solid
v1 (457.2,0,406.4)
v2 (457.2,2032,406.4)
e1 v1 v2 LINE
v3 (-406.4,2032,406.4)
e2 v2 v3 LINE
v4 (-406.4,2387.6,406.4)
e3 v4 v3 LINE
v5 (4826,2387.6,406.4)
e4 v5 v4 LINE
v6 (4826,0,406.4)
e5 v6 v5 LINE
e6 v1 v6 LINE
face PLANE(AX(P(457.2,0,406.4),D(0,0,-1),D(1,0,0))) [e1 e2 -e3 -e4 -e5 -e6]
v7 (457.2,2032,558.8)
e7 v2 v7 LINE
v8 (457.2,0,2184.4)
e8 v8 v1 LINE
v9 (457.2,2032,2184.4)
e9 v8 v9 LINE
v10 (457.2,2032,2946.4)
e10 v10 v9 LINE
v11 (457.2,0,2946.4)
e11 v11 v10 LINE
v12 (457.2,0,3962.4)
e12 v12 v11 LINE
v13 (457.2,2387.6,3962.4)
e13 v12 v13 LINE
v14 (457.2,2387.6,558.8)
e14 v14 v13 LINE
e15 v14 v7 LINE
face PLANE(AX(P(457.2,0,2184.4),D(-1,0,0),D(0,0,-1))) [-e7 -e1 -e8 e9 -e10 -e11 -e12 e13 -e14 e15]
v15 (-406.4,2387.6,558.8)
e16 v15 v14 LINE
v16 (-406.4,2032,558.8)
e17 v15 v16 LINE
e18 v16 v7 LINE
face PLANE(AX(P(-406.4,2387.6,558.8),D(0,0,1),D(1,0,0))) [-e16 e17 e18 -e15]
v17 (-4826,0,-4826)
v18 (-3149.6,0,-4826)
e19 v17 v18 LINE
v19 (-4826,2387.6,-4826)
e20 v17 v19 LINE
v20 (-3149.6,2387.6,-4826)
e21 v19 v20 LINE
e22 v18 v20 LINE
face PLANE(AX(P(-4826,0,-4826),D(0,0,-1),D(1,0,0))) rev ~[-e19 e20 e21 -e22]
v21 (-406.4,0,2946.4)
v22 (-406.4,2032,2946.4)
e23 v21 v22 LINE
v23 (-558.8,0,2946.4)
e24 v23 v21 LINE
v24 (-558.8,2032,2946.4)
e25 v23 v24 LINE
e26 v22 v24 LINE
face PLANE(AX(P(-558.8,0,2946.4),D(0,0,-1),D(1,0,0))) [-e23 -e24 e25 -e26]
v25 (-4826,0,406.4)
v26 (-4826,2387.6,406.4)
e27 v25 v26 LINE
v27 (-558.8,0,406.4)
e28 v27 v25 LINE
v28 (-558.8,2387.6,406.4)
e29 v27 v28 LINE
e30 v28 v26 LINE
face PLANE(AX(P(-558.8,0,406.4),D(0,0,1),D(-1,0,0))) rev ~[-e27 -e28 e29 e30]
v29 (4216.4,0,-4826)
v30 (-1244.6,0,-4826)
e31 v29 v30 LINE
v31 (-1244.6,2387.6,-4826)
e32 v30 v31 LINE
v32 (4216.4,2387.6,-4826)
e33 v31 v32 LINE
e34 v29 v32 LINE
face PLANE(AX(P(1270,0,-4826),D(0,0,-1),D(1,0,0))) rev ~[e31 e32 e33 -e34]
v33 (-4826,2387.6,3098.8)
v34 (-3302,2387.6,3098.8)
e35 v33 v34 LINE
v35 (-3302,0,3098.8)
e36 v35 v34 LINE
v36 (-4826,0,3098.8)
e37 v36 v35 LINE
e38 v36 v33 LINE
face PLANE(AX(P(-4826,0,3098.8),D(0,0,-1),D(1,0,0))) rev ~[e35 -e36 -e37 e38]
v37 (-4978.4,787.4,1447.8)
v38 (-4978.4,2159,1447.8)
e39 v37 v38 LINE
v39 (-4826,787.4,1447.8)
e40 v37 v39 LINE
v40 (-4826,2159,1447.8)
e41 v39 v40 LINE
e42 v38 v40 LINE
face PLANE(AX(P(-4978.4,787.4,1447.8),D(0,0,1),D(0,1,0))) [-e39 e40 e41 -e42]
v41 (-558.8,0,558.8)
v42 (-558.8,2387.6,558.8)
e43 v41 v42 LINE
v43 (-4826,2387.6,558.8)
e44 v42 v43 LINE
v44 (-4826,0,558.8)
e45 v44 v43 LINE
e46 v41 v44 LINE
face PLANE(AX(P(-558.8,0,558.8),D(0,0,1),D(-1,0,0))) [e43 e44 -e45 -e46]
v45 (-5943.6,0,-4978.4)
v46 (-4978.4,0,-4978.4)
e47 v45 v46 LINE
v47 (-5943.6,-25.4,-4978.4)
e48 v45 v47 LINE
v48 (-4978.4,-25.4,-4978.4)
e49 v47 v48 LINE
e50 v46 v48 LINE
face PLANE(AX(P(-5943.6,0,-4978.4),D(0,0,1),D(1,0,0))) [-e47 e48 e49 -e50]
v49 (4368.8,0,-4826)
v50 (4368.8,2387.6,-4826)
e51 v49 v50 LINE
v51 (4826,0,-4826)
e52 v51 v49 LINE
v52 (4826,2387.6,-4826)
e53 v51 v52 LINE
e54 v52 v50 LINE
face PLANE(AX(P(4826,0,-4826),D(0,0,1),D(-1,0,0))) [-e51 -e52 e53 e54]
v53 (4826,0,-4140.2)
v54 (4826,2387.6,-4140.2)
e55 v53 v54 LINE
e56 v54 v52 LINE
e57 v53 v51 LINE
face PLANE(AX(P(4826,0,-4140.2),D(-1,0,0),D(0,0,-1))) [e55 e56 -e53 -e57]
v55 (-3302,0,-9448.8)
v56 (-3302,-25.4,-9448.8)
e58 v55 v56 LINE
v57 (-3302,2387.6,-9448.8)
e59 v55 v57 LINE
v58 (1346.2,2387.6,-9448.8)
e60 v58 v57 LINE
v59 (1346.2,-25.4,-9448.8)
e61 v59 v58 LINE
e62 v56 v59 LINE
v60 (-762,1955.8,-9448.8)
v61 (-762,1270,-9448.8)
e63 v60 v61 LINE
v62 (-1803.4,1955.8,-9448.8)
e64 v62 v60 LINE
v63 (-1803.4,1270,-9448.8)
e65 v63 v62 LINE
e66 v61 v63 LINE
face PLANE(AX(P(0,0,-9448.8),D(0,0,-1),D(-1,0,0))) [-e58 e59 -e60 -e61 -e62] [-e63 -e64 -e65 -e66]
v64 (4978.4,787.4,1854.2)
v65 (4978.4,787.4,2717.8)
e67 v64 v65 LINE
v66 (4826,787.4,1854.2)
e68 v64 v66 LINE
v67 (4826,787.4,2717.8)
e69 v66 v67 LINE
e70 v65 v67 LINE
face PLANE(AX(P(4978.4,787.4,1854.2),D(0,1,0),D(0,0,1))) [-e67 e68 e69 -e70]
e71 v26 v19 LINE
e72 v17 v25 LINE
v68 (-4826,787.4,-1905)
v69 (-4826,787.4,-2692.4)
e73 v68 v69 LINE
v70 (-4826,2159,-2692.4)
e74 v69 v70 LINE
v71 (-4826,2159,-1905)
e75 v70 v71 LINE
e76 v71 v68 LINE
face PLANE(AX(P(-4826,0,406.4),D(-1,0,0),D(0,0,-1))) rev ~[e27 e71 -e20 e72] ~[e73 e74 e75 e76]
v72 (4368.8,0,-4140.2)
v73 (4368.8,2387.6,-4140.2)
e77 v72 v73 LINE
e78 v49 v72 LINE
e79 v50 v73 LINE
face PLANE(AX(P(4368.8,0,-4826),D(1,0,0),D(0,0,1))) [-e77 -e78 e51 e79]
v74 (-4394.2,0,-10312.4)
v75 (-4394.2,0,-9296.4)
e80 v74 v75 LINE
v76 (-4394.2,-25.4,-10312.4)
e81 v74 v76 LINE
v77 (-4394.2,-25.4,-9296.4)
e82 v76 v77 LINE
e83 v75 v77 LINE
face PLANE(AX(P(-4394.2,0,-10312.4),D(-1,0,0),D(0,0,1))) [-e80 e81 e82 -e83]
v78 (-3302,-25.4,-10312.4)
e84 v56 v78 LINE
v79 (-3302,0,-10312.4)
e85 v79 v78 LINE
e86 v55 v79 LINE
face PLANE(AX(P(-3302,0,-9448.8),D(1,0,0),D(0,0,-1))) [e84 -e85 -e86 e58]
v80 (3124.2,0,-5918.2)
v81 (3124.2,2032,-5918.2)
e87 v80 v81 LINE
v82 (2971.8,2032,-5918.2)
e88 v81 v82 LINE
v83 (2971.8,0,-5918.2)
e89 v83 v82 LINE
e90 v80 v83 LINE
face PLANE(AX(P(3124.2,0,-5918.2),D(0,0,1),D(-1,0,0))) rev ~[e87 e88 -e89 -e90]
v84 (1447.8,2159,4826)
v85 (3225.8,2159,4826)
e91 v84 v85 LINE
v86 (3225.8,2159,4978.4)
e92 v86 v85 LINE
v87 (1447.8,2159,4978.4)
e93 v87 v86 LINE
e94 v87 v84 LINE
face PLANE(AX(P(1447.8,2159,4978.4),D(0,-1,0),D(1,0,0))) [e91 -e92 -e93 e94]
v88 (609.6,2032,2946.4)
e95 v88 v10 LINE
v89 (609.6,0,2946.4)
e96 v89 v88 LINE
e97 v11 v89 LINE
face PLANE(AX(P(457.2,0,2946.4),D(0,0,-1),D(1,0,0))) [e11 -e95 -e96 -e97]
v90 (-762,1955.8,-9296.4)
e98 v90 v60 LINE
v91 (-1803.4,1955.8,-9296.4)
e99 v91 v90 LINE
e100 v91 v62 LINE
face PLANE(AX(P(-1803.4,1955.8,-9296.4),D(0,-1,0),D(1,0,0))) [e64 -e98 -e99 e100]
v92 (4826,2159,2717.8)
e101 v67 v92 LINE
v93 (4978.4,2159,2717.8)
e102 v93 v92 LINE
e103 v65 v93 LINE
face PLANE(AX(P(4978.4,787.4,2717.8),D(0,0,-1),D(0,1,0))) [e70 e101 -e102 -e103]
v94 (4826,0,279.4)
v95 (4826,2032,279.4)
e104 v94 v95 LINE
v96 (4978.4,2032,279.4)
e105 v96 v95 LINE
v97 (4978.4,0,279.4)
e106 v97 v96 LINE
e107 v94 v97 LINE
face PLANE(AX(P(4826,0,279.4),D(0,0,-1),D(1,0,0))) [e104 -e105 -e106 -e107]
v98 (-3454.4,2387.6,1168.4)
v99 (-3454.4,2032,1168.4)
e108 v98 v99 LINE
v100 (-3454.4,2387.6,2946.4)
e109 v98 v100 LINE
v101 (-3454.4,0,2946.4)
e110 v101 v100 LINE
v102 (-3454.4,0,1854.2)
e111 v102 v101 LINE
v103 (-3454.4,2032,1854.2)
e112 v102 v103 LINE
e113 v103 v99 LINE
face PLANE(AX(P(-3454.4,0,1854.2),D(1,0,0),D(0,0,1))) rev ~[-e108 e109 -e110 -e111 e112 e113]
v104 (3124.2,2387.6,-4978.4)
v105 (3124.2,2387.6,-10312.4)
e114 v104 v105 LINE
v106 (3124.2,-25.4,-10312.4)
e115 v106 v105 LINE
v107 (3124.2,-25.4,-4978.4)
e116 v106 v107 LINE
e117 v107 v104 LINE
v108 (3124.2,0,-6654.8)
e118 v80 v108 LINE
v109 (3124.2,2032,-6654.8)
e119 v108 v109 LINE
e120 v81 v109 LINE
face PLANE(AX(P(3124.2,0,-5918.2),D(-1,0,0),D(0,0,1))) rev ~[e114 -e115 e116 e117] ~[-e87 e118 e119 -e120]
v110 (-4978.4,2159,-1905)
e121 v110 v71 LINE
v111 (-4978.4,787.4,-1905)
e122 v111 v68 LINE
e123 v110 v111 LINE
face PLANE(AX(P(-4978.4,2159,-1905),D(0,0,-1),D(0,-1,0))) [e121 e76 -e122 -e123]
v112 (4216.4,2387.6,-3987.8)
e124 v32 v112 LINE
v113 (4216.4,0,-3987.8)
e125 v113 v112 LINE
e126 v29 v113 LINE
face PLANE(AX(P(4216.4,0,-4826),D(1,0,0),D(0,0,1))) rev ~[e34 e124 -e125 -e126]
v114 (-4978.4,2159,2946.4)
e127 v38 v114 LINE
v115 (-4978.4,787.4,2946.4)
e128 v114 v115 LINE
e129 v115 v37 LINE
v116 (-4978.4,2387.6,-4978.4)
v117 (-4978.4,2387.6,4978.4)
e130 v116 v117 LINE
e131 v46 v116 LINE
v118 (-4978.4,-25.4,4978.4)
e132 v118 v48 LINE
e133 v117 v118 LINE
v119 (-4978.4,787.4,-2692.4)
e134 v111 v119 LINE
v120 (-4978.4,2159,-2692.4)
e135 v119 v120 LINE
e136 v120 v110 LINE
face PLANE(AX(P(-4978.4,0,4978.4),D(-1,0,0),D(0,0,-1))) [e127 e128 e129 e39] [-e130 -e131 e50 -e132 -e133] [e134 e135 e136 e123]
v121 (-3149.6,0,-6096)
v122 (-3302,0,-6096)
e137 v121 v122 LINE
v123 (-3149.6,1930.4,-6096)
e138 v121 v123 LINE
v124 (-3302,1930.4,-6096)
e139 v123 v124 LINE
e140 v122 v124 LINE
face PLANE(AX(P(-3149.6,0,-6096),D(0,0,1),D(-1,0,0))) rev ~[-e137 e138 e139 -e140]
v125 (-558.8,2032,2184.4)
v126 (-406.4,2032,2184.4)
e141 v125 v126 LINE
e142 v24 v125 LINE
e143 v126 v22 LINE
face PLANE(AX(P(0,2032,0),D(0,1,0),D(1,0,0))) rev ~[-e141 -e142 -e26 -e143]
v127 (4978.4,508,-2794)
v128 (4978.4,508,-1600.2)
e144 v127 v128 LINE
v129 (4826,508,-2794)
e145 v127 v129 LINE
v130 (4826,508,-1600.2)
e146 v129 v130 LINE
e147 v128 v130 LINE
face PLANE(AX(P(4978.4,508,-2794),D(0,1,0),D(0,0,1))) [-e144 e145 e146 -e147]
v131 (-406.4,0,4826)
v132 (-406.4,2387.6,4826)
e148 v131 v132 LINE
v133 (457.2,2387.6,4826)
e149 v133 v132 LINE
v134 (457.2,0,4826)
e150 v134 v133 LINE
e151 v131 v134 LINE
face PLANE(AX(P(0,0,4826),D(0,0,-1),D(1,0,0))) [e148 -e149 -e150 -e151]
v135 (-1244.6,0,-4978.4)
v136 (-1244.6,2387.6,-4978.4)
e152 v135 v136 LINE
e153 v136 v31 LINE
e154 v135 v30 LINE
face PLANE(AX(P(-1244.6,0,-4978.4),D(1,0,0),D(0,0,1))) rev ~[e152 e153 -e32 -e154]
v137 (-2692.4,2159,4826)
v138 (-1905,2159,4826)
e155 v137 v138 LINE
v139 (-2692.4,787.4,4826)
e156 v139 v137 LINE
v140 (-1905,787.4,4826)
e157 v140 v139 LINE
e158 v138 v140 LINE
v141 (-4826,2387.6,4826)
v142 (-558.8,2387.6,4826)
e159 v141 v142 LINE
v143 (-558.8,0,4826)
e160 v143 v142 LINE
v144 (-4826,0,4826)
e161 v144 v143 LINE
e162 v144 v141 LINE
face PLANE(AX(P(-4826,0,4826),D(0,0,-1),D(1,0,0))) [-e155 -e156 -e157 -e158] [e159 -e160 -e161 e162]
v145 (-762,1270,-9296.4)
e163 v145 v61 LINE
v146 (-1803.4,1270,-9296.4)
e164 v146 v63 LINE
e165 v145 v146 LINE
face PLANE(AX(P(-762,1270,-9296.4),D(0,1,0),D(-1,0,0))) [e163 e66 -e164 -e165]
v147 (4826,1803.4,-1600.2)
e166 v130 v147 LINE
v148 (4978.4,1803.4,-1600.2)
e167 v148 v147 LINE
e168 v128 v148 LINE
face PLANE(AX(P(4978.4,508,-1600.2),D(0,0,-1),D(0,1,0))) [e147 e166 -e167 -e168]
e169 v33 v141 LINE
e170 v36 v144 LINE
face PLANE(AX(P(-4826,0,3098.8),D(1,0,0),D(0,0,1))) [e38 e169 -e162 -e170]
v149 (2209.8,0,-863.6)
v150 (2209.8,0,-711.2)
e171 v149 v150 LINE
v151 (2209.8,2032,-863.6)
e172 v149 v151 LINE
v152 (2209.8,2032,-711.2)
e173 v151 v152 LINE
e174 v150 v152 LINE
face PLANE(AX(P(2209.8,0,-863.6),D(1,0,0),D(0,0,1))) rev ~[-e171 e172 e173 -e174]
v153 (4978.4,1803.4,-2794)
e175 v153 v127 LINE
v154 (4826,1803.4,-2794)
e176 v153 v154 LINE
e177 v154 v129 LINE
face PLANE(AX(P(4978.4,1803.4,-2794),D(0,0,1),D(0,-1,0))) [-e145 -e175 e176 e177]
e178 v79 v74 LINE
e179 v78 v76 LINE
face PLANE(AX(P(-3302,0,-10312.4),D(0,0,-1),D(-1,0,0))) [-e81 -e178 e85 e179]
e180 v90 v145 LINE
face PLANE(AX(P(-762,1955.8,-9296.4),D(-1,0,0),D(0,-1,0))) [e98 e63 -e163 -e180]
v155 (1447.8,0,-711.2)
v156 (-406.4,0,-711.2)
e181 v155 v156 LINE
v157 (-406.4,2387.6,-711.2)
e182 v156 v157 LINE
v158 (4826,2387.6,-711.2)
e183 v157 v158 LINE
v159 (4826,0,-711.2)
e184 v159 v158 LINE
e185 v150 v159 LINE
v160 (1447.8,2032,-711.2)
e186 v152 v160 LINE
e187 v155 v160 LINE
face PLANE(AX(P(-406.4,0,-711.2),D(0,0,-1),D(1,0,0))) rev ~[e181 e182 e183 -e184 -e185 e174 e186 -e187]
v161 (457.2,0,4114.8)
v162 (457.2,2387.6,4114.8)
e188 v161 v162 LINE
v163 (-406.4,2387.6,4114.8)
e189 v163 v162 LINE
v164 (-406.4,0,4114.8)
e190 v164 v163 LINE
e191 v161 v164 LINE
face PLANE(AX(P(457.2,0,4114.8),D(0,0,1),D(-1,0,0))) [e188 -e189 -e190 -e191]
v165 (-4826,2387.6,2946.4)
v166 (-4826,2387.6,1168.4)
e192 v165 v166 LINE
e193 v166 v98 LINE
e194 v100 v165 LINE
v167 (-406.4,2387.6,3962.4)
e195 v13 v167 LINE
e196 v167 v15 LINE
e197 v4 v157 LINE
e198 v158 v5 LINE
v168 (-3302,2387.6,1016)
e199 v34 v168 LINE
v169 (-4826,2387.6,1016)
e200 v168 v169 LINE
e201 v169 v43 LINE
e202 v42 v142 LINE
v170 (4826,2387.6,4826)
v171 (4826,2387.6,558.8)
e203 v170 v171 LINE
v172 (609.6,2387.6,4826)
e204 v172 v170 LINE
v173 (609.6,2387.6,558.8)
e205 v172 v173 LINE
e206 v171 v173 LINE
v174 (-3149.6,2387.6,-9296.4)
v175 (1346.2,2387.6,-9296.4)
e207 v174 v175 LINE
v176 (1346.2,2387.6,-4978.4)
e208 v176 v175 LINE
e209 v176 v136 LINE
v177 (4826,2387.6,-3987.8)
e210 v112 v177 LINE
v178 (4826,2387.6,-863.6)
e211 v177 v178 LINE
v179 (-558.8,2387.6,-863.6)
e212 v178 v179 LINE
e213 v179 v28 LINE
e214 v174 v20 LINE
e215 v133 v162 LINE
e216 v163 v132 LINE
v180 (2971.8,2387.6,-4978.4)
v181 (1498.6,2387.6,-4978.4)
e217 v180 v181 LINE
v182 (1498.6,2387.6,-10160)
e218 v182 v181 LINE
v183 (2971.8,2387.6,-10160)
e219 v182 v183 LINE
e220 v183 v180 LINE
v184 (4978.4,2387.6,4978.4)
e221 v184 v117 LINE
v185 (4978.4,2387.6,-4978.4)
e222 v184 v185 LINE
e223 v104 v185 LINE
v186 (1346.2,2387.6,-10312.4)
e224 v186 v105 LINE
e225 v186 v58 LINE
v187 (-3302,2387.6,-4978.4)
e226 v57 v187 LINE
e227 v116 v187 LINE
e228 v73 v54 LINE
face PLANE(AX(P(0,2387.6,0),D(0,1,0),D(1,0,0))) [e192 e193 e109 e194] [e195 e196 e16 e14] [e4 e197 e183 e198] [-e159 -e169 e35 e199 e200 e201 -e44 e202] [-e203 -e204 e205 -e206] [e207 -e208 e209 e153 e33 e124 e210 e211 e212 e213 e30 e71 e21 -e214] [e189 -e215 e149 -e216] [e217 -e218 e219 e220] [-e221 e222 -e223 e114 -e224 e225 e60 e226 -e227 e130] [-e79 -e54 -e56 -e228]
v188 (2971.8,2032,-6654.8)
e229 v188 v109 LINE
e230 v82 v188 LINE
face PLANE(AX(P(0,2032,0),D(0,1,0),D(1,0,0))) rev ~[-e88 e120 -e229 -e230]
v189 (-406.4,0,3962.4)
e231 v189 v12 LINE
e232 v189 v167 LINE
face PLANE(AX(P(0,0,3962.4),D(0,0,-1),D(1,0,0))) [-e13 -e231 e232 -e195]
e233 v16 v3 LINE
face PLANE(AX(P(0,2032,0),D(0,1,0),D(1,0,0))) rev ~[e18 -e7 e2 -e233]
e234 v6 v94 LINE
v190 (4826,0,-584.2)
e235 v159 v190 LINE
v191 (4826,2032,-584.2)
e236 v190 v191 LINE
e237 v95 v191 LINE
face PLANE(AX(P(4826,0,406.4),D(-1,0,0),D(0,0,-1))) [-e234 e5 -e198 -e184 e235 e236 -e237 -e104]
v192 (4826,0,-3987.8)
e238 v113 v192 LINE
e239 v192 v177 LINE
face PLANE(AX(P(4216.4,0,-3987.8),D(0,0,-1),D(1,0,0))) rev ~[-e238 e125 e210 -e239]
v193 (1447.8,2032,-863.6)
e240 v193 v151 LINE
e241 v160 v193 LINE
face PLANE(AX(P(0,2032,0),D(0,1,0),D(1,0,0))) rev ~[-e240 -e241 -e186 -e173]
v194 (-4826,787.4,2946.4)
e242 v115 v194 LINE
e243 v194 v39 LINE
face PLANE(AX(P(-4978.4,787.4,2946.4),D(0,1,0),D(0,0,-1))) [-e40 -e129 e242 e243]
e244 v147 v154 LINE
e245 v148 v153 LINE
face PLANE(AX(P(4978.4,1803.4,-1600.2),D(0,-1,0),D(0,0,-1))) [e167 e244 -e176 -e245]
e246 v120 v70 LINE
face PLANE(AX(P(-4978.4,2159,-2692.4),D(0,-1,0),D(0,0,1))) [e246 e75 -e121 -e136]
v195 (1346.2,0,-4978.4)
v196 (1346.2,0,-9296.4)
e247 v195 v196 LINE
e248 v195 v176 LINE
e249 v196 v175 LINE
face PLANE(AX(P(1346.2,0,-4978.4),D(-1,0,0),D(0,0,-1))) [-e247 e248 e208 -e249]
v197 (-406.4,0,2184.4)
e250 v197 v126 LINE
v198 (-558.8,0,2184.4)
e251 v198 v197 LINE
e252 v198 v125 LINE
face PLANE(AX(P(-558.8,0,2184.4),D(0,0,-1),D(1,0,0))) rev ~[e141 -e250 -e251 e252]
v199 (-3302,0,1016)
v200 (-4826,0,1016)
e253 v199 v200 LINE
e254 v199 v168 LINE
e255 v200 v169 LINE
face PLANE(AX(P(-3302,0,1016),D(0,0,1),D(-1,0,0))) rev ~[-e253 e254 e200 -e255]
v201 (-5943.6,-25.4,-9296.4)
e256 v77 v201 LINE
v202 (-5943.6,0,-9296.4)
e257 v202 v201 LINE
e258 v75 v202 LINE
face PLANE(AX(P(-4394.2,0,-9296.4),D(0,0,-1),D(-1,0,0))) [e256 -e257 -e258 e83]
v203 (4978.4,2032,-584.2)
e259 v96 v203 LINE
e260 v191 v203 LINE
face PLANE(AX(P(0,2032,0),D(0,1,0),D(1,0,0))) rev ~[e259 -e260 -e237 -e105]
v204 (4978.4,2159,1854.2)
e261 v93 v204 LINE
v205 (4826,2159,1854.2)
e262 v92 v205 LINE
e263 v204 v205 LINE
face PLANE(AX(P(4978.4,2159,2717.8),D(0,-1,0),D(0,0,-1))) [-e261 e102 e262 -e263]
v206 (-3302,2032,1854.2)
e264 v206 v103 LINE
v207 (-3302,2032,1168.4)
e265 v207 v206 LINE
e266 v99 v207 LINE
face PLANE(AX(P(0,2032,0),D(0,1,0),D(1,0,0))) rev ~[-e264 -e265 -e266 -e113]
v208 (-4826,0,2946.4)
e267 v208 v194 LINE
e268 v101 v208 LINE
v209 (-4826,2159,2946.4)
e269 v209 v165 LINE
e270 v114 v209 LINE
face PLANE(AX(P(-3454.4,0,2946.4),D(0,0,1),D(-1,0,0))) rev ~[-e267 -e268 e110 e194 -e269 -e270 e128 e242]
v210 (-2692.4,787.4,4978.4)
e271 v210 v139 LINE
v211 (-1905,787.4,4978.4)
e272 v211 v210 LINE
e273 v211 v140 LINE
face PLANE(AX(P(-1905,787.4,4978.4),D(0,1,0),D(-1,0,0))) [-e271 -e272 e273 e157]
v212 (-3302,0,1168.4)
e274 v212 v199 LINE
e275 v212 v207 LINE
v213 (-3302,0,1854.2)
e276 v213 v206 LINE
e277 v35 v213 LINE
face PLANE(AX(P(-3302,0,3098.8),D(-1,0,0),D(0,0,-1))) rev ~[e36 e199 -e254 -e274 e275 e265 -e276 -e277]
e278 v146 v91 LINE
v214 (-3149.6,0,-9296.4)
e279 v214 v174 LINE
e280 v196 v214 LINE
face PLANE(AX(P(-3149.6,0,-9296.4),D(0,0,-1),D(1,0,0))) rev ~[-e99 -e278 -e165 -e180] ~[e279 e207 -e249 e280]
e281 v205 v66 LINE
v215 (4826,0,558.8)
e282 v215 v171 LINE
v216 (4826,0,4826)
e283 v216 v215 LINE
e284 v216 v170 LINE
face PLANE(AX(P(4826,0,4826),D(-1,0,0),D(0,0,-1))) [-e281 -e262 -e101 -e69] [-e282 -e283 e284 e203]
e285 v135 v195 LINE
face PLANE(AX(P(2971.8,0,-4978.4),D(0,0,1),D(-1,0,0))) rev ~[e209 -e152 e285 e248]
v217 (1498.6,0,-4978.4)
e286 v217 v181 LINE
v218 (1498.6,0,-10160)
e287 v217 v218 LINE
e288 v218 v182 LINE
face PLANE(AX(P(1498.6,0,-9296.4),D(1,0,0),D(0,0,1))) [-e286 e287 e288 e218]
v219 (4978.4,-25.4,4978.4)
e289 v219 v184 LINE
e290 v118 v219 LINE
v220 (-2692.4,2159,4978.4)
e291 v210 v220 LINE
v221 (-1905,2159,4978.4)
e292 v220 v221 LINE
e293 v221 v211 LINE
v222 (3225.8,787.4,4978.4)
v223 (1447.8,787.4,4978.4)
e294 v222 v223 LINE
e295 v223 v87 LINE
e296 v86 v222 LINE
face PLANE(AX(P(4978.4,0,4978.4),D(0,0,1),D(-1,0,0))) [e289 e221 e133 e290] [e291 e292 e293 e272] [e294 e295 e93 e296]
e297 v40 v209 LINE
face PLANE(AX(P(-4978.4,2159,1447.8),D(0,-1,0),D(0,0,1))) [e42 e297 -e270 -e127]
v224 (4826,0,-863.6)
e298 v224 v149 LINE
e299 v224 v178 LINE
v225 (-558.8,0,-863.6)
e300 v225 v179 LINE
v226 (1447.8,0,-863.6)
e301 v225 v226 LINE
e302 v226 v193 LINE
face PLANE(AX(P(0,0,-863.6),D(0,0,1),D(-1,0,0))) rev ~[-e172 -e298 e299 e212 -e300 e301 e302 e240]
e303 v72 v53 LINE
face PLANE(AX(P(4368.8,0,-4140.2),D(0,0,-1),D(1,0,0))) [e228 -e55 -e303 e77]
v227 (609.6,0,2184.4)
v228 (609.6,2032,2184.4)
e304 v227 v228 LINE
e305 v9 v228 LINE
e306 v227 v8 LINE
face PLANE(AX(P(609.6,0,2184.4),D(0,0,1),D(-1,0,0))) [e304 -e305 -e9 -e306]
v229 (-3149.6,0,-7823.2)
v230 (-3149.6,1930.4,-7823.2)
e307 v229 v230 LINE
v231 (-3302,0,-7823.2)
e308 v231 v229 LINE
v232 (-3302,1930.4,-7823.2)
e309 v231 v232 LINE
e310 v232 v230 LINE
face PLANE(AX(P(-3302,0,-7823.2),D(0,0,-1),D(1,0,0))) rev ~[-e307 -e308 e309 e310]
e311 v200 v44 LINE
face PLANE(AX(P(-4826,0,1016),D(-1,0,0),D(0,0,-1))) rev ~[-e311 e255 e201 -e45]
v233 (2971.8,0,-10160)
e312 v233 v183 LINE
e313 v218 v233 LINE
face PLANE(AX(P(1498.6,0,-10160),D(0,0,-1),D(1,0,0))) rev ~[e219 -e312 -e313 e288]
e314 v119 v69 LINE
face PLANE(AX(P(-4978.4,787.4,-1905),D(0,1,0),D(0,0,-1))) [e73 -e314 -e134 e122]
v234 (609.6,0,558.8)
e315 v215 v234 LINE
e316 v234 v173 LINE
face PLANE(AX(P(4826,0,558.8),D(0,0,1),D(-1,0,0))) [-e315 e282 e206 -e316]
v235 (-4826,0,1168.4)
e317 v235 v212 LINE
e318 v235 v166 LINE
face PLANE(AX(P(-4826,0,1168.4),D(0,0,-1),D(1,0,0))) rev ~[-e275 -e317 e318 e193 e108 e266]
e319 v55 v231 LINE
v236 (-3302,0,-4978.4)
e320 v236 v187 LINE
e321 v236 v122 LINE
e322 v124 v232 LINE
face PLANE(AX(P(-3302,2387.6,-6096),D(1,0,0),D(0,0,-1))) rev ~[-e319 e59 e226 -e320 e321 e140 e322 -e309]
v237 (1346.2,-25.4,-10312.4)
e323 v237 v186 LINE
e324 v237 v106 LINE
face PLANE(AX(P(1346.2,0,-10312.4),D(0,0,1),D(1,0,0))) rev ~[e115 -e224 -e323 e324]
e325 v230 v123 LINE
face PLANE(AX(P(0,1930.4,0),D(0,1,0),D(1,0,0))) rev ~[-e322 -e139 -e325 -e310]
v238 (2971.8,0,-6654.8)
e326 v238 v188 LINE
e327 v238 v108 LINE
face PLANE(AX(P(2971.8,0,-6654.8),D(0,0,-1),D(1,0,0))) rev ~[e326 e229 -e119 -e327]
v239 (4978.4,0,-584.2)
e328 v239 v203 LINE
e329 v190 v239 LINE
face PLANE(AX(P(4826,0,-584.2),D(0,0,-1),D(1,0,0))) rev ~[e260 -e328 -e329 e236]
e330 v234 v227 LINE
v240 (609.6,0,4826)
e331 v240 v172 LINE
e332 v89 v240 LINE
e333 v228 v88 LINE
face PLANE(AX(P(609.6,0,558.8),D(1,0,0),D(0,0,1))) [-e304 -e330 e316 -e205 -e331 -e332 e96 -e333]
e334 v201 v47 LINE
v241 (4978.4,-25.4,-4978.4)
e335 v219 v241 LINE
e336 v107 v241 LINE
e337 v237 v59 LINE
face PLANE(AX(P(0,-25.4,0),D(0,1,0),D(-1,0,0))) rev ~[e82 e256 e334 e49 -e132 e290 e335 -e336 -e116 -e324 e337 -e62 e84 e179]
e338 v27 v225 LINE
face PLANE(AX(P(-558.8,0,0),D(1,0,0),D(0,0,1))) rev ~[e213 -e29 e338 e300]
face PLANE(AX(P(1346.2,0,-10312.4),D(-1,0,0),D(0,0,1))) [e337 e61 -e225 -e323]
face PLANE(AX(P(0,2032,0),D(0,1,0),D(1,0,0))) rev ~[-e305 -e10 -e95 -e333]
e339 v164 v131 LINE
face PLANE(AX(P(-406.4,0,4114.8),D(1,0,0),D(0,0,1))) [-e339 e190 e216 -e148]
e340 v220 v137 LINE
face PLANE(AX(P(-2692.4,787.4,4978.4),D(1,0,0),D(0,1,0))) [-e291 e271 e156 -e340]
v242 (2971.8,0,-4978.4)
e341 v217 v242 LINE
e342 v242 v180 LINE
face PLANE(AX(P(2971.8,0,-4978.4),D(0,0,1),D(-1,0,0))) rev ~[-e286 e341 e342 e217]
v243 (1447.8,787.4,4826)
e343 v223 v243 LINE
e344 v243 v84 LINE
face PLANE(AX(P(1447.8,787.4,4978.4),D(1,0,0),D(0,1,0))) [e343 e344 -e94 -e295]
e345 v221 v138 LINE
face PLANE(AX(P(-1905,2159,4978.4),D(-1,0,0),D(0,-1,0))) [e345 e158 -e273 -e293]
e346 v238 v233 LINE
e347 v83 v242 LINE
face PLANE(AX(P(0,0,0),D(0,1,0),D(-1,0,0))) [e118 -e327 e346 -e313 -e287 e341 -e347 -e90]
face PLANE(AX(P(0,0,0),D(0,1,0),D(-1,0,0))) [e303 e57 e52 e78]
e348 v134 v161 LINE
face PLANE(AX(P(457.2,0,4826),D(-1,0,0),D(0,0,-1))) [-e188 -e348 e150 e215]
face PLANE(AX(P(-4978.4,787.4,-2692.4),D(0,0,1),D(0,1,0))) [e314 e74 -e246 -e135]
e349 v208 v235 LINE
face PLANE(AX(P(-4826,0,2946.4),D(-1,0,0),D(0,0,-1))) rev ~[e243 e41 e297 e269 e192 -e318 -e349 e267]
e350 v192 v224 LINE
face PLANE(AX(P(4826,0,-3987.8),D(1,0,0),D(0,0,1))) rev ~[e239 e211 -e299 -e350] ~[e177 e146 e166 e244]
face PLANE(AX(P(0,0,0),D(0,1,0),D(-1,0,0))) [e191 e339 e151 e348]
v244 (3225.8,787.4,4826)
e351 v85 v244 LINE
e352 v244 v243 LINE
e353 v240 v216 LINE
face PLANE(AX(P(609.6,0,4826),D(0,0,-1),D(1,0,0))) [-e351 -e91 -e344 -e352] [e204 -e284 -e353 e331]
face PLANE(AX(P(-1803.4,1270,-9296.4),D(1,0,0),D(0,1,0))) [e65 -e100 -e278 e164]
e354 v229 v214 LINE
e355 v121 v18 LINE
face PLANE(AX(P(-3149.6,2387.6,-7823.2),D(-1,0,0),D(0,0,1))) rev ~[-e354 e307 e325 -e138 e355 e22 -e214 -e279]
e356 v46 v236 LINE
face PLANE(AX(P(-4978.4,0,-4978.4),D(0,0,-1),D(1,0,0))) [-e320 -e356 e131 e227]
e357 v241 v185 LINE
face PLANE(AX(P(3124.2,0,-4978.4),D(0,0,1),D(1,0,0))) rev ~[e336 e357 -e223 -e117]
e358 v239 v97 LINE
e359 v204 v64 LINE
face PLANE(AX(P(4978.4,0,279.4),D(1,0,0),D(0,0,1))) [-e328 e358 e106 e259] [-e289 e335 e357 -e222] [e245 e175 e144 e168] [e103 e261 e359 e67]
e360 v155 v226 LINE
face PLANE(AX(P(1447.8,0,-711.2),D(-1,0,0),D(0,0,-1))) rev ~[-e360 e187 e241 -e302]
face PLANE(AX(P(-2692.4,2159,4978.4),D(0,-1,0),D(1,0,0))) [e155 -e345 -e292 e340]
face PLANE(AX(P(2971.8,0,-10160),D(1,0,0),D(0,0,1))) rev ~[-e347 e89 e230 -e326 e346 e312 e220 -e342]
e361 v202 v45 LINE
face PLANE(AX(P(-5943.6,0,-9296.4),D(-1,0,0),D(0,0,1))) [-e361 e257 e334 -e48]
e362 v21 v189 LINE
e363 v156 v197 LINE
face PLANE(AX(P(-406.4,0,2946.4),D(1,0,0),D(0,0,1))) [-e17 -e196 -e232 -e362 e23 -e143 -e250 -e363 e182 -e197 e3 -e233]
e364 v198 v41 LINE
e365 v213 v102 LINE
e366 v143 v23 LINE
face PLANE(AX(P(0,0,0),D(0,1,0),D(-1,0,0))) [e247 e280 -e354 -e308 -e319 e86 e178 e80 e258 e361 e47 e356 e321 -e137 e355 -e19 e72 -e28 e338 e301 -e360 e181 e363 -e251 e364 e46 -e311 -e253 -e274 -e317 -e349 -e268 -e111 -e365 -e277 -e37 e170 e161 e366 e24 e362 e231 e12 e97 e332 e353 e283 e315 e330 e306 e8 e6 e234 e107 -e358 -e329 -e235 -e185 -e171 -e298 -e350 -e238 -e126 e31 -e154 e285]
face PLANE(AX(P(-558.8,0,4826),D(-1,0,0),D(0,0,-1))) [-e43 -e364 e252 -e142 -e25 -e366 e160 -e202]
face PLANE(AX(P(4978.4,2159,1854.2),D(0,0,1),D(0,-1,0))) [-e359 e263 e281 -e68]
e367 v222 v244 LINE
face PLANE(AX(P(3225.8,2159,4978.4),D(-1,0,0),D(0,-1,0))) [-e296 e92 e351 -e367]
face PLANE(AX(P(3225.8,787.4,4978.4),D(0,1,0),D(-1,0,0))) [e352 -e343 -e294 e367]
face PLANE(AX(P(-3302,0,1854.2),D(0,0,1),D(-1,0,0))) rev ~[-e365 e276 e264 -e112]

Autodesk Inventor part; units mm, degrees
ref_plane "YZ Plane" through (0, 0, 0) normal (1, 0, 0) x (0, 1, 0)
ref_plane "XZ Plane" through (0, 0, 0) normal (0, 1, 0) x (-1, 0, 0)
ref_plane "XY Plane" through (0, 0, 0) normal (0, 0, 1) x (1, 0, 0)
sketch "Sketch1" plane through (0, 0, 0) normal (0, 1, 0) x (-1, 0, 0)
  line L0 (-4978.4, 4978.4) -> (4978.4, 4978.4)
  line L1 (4978.4, 4978.4) -> (4978.4, -4978.4)
  line L2 (0, -13370.56) -> (0, 8036.56) projected
  line L3 (8128, 0) -> (-7162.8, 0) projected
  line L4 (-1346.2, -10312.4) -> (-3124.2, -10312.4)
  line L5 (-1346.2, -10312.4) -> (-1346.2, -9448.8)
  line L6 (-1346.2, -9448.8) -> (3302, -9448.8)
  line L7 (3302, -9448.8) -> (3302, -10312.4)
  line L8 (3302, -10312.4) -> (4394.2, -10312.4)
  line L9 (4394.2, -10312.4) -> (4394.2, -9296.4)
  line L10 (4394.2, -9296.4) -> (5943.6, -9296.4)
  line L11 (5943.6, -9296.4) -> (5943.6, -4978.4)
  line L12 (5943.6, -4978.4) -> (3302, -4978.4)
  line L13 (3302, -4978.4) -> (3302, -9448.8)
  line L14 (4978.4, -4978.4) -> (3302, -4978.4)
  line L15 (-3124.2, -4978.4) -> (-4978.4, -4978.4)
  line L16 (4826, 3098.8) -> (4826, 4826)
  line L17 (4826, 4826) -> (558.8, 4826)
  line L18 (558.8, 4826) -> (558.8, 2946.4)
  line L19 (558.8, 2946.4) -> (406.4, 2946.4)
  line L20 (406.4, 4826) -> (-457.2, 4826)
  line L21 (-457.2, 2946.4) -> (-609.6, 2946.4)
  line L22 (-609.6, 2946.4) -> (-609.6, 4826)
  line L23 (-609.6, 4826) -> (-4826, 4826)
  line L24 (-4826, 4826) -> (-4826, 558.8)
  line L25 (-4826, 558.8) -> (-609.6, 558.8)
  line L26 (-609.6, 558.8) -> (-609.6, 2184.4)
  line L27 (-609.6, 2184.4) -> (-457.2, 2184.4)
  line L28 (-457.2, 2184.4) -> (-457.2, 406.4)
  line L29 (-457.2, 406.4) -> (-4826, 406.4)
  line L30 (-4826, 406.4) -> (-4826, 279.4)
  line L31 (-4826, 279.4) -> (-4978.4, 279.4)
  line L32 (4826, 3098.8) -> (3302, 3098.8)
  line L33 (3302, 3098.8) -> (3302, 1854.2)
  line L34 (3302, 1854.2) -> (3454.4, 1854.2)
  line L35 (3454.4, 1854.2) -> (3454.4, 2946.4)
  line L36 (3454.4, 2946.4) -> (4826, 2946.4)
  line L37 (4826, 2946.4) -> (4826, 1168.4)
  line L38 (4826, -4826) -> (3149.6, -4826)
  line L39 (3149.6, -4826) -> (3149.6, -6096)
  line L40 (3149.6, -6096) -> (3302, -6096)
  line L41 (3302, -7823.2) -> (3149.6, -7823.2)
  line L42 (3149.6, -7823.2) -> (3149.6, -9296.4)
  line L43 (3149.6, -9296.4) -> (-1498.6, -9296.4)
  line L44 (-1498.6, -9296.4) -> (-1498.6, -10160)
  line L45 (-1498.6, -10160) -> (-2971.8, -10160)
  line L46 (-2971.8, -10160) -> (-2971.8, -6654.8)
  line L47 (-2971.8, -6654.8) -> (-3124.2, -6654.8)
  line L48 (-3124.2, -5918.2) -> (-2971.8, -5918.2)
  line L49 (-2971.8, -5918.2) -> (-2971.8, -4978.4)
  line L50 (-2971.8, -4978.4) -> (1244.6, -4978.4)
  line L51 (1244.6, -4978.4) -> (1244.6, -4826)
  line L52 (1244.6, -4826) -> (-1117.6, -4826)
  line L53 (-1117.6, -863.6) -> (558.8, -863.6)
  line L54 (558.8, -863.6) -> (558.8, 406.4)
  line L55 (558.8, 406.4) -> (4826, 406.4)
  line L56 (558.8, 2184.4) -> (558.8, 558.8)
  line L57 (558.8, 558.8) -> (4826, 558.8)
  line L58 (558.8, 2184.4) -> (406.4, 2184.4)
  line L59 (406.4, 2184.4) -> (406.4, -711.2)
  line L60 (406.4, -711.2) -> (-1447.8, -711.2)
  line L61 (-1447.8, -711.2) -> (-1447.8, -863.6)
  line L62 (-1447.8, -863.6) -> (-1270, -863.6)
  line L63 (-1270, -4826) -> (-4216.4, -4826)
  line L64 (-4216.4, -4826) -> (-4216.4, -3987.8)
  line L65 (-4216.4, -3987.8) -> (-4826, -3987.8)
  line L66 (-4826, -3987.8) -> (-4826, -863.6)
  line L67 (-4826, -863.6) -> (-2209.8, -863.6)
  line L68 (-2209.8, -863.6) -> (-2209.8, -711.2)
  line L69 (-2209.8, -711.2) -> (-4826, -711.2)
  line L70 (-4826, -711.2) -> (-4826, -584.2)
  line L71 (-4826, -584.2) -> (-4978.4, -584.2)
  line L72 (-4368.8, -4826) -> (-4368.8, -4140.2)
  line L73 (-4368.8, -4140.2) -> (-4826, -4140.2)
  line L74 (-4826, -4140.2) -> (-4826, -4826)
  line L75 (-4826, -4826) -> (-4368.8, -4826)
  line L76 (4826, 1016) -> (4826, 558.8)
  line L77 (4826, 406.4) -> (4826, -4826)
  line L78 (4826, 1168.4) -> (3302, 1168.4)
  line L79 (3302, 1168.4) -> (3302, 1016)
  line L80 (3302, 1016) -> (4826, 1016)
  line L81 (-457.2, 4114.8) -> (406.4, 4114.8)
  line L82 (406.4, 3962.4) -> (-457.2, 3962.4)
  line L83 (-457.2, 4826) -> (-457.2, 4114.8)
  line L84 (-457.2, 3962.4) -> (-457.2, 2946.4)
  line L85 (406.4, 2946.4) -> (406.4, 3962.4)
  line L86 (406.4, 4114.8) -> (406.4, 4826)
  line L87 (-4978.4, -4978.4) -> (-4978.4, -584.2)
  line L88 (-4978.4, 279.4) -> (-4978.4, 4978.4)
  line L89 (-1270, -863.6) -> (-1117.6, -863.6)
  line L90 (-1270, -4826) -> (-1117.6, -4826)
  line L91 (-3124.2, -10312.4) -> (-3124.2, -6654.8)
  line L92 (-3124.2, -5918.2) -> (-3124.2, -4978.4)
  line L93 (-4978.4, 4978.4) -> (4978.4, 4978.4)
  line L94 (4978.4, 4978.4) -> (4978.4, -4978.4)
  line L95 (4978.4, -4978.4) -> (-4978.4, -4978.4)
  line L96 (-4978.4, -4978.4) -> (-4978.4, 4978.4)
  line L97 (-3124.2, -4978.4) -> (3302, -4978.4)
  line L98 (3302, -4978.4) -> (3302, -9448.8)
  line L99 (3302, -9448.8) -> (-3124.2, -9448.8)
  line L100 (-3124.2, -9448.8) -> (-3124.2, -4978.4)
  line L101 (-3124.2, -9448.8) -> (-1346.2, -9448.8)
  line L102 (-1346.2, -9448.8) -> (-1346.2, -10312.4)
  line L103 (-1346.2, -10312.4) -> (-3124.2, -10312.4)
  line L104 (-3124.2, -10312.4) -> (-3124.2, -9448.8)
  line L105 (3302, -4978.4) -> (5943.6, -4978.4)
  line L106 (5943.6, -4978.4) -> (5943.6, -9296.4)
  line L107 (5943.6, -9296.4) -> (3302, -9296.4)
  line L108 (3302, -9296.4) -> (3302, -4978.4)
  line L109 (3302, -9296.4) -> (4394.2, -9296.4)
  line L110 (4394.2, -9296.4) -> (4394.2, -10312.4)
  line L111 (4394.2, -10312.4) -> (3302, -10312.4)
  line L112 (3302, -10312.4) -> (3302, -9296.4)
  point P0 (0, 0)
  dimension "d6" = 863.6
  dimension "d9" = 4648.2
  dimension "d10" = 863.6
  dimension "d11" = 1092.2
  dimension "d12" = 4318
  dimension "d13" = 1549.4
  dimension "d14" = 9956.8
  dimension "d15" = 5334
  dimension "d17" = 152.4
  dimension "d20" = 152.4
  dimension "d21" = 152.4
  dimension "d22" = 152.4
  dimension "d24" = 152.4
  dimension "d25" = 152.4
  dimension "d26" = 152.4
  dimension "d27" = 152.4
  dimension "d28" = 152.4
  dimension "d30" = 152.4
  dimension "d31" = 152.4
  dimension "d32" = 152.4
  dimension "d34" = 152.4
  dimension "d35" = 152.4
  dimension "d37" = 1727.2
  dimension "d38" = 2971.8
  dimension "d45" = 863.6
  dimension "d46" = 1117.6
  dimension "d47" = 152.4
  dimension "d48" = 4419.6
  dimension "d49" = 152.4
  dimension "d50" = 711.2
  dimension "d51" = 152.4
  dimension "d52" = 1879.6
  dimension "d53" = 762
  dimension "d54" = 152.4
  dimension "d55" = 1371.6
  dimension "d56" = 685.8
  dimension "d57" = 990.6
  dimension "d58" = 863.6
  dimension "d59" = 152.4
  dimension "d60" = 9956.8
  dimension "d61" = 2616.2
  dimension "d62" = 762
  dimension "d63" = 4267.2
  dimension "d64" = 609.6
  dimension "d65" = 838.2
  dimension "d66" = 152.4
  dimension "d67" = 3657.6
  dimension "d68" = 736.6
  dimension "d69" = 1854.2
  dimension "d70" = 1778
  dimension "d71" = 1727.2
  dimension "d72" = 1473.2
  dimension "d73" = 1905
extrude "Extrusion1" add sketch "Sketch1" along normal blind 2387.6 contours L0 L2 L20 L83 L81 L82 L84 L21 L22 L23 L24 L25 L26 L27 L28 L29 L30 L31 L88 | L0 L1 L3 L77 L55 L54 L59 L58 L56 L57 L76 L80 L79 L78 L37 L36 L35 L34 L33 L32 L16 L17 L18 L19 L85 L82 L2 L81 L86 L20 | L1 L12 L95 L39 L38 L77 L3 | L71 L70 L69 L68 L67 L66 L65 L64 L63 L90 L52 L2 L50 L95 L15 L87 | L60 L59 L3 L54 L53 L2 | L2 L53 L89 L62 L61 L60 | L13 L40 L39 L95 | L95 L49 L48 L92 | L52 L51 L50 L2 | L13 L6 L2 L43 L42 L41 | L47 L46 L99 L91 | L2 L6 L99 L44 L43 | L99 L46 L45 L44 L5 L4 L91
extrude "Extrusion2" add sketch "Sketch1" against normal blind 25.4 contours L0 L2 L20 L83 L81 L82 L84 L21 L22 L23 L24 L25 L26 L27 L28 L29 L30 L31 L88 | L0 L1 L3 L77 L55 L54 L59 L58 L56 L57 L76 L80 L79 L78 L37 L36 L35 L34 L33 L32 L16 L17 L18 L19 L85 L82 L2 L81 L86 L20 | L31 L30 L29 L28 L27 L26 L25 L24 L23 L22 L21 L84 L82 L2 L3 L96 | L20 L86 L81 L2 | L2 L81 L83 L20 | L3 L2 L60 L61 L62 L89 L53 L52 L90 L63 L64 L65 L66 L67 L68 L69 L70 L71 L96 | L1 L12 L95 L39 L38 L77 L3 | L3 L59 L60 L2 | L2 L82 L85 L19 L18 L17 L16 L32 L33 L34 L35 L36 L37 L78 L79 L80 L76 L57 L56 L58 L59 L3 | L71 L70 L69 L68 L67 L66 L65 L64 L63 L90 L52 L2 L50 L95 L15 L87 | L12 L11 L10 L107 L13 | L77 L38 L39 L95 L51 L52 L2 L53 L54 L3 | L3 L54 L55 L77 | L60 L59 L3 L54 L53 L2 | L2 L53 L89 L62 L61 L60 | L13 L40 L39 L95 | L95 L49 L48 L92 | L13 L41 L42 L43 L2 L50 L95 L39 L40 | L52 L51 L50 L2 | L48 L49 L50 L2 L43 L44 L99 L46 L47 L100 | L9 L8 L7 L13 L107 | L13 L6 L2 L43 L42 L41 | L47 L46 L99 L91 | L2 L6 L99 L44 L43 | L99 L46 L45 L44 L5 L4 L91 | L99 L44 L45 L46 | L75 L74 L73 L72
extrude "Extrusion3" add sketch "Sketch1" against normal blind 25.4 contours L75 L74 L73 L72
sketch "Sketch2" plane through (0, 2387.6, 0) normal (0, 1, 0) x (1, 0, 0)
  line L0 (3124.2, 5918.2) -> (2971.8, 5918.2) projected
  line L1 (3124.2, 5918.2) -> (3124.2, 6654.8) projected
  line L2 (2971.8, 6654.8) -> (3124.2, 6654.8) projected
  line L3 (2971.8, 10160) -> (2971.8, 6654.8) projected
  line L4 (1498.6, 10160) -> (2971.8, 10160) projected
  line L5 (1498.6, 9296.4) -> (1498.6, 10160) projected
  line L6 (-3149.6, 9296.4) -> (1498.6, 9296.4) projected
  line L7 (-3149.6, 7823.2) -> (-3149.6, 9296.4) projected
  line L8 (-3302, 7823.2) -> (-3149.6, 7823.2) projected
  line L9 (-3302, 9448.8) -> (-3302, 7823.2) projected
  line L10 (-3302, 9448.8) -> (-3302, 10312.4) projected
  line L11 (-3302, 10312.4) -> (-4394.2, 10312.4) projected
  line L12 (-4394.2, 10312.4) -> (-4394.2, 9296.4) projected
  line L13 (-4394.2, 9296.4) -> (-5943.6, 9296.4) projected
  line L14 (-5943.6, 9296.4) -> (-5943.6, 4978.4) projected
  line L15 (-5943.6, 4978.4) -> (-4978.4, 4978.4) projected
  line L16 (-3302, 4978.4) -> (-4978.4, 4978.4) projected
  line L17 (-3302, 6096) -> (-3302, 4978.4) projected
  line L18 (-3149.6, 6096) -> (-3302, 6096) projected
  line L19 (-3149.6, 4826) -> (-3149.6, 6096) projected
  line L20 (-4826, 4826) -> (-3149.6, 4826) projected
  line L21 (-4826, -406.4) -> (-4826, 4826) projected
  line L22 (-558.8, -406.4) -> (-4826, -406.4) projected
  line L23 (-558.8, 863.6) -> (-558.8, -406.4) projected
  line L24 (1447.8, 863.6) -> (-558.8, 863.6) projected
  line L25 (1447.8, 711.2) -> (1447.8, 863.6) projected
  line L26 (-406.4, 711.2) -> (1447.8, 711.2) projected
  line L27 (-406.4, -2184.4) -> (-406.4, 711.2) projected
  line L28 (-558.8, -2184.4) -> (-406.4, -2184.4) projected
  line L29 (-558.8, -558.8) -> (-558.8, -2184.4) projected
  line L30 (-4826, -558.8) -> (-558.8, -558.8) projected
  line L31 (-4826, -1016) -> (-4826, -558.8) projected
  line L32 (-3302, -1016) -> (-4826, -1016) projected
  line L33 (-3302, -1168.4) -> (-3302, -1016) projected
  line L34 (-4826, -1168.4) -> (-3302, -1168.4) projected
  line L35 (-4826, -2946.4) -> (-4826, -1168.4) projected
  line L36 (-3454.4, -2946.4) -> (-4826, -2946.4) projected
  line L37 (-3454.4, -1854.2) -> (-3454.4, -2946.4) projected
  line L38 (-3302, -1854.2) -> (-3454.4, -1854.2) projected
  line L39 (-3302, -3098.8) -> (-3302, -1854.2) projected
  line L40 (-4826, -3098.8) -> (-3302, -3098.8) projected
  line L41 (-4826, -4826) -> (-4826, -3098.8) projected
  line L42 (-558.8, -4826) -> (-4826, -4826) projected
  line L43 (-558.8, -2946.4) -> (-558.8, -4826) projected
  line L44 (-406.4, -2946.4) -> (-558.8, -2946.4) projected
  line L45 (-406.4, -3962.4) -> (-406.4, -2946.4) projected
  line L46 (457.2, -3962.4) -> (-406.4, -3962.4) projected
  line L47 (457.2, -2946.4) -> (457.2, -3962.4) projected
  line L48 (609.6, -2946.4) -> (457.2, -2946.4) projected
  line L49 (609.6, -4826) -> (609.6, -2946.4) projected
  line L50 (4826, -4826) -> (609.6, -4826) projected
  line L51 (4826, -558.8) -> (4826, -4826) projected
  line L52 (609.6, -558.8) -> (4826, -558.8) projected
  line L53 (609.6, -2184.4) -> (609.6, -558.8) projected
  line L54 (457.2, -2184.4) -> (609.6, -2184.4) projected
  line L55 (457.2, -406.4) -> (457.2, -2184.4) projected
  line L56 (4826, -406.4) -> (457.2, -406.4) projected
  line L57 (4826, -279.4) -> (4826, -406.4) projected
  line L58 (4978.4, -279.4) -> (4826, -279.4) projected
  line L59 (4978.4, -279.4) -> (4978.4, 584.2) projected
  line L60 (4826, 584.2) -> (4978.4, 584.2) projected
  line L61 (4826, 711.2) -> (4826, 584.2) projected
  line L62 (2209.8, 711.2) -> (4826, 711.2) projected
  line L63 (2209.8, 863.6) -> (2209.8, 711.2) projected
  line L64 (4826, 863.6) -> (2209.8, 863.6) projected
  line L65 (4826, 3987.8) -> (4826, 863.6) projected
  line L66 (4216.4, 3987.8) -> (4826, 3987.8) projected
  line L67 (4216.4, 4826) -> (4216.4, 3987.8) projected
  line L68 (-1244.6, 4826) -> (4216.4, 4826) projected
  line L69 (-1244.6, 4978.4) -> (-1244.6, 4826) projected
  line L70 (2971.8, 4978.4) -> (-1244.6, 4978.4) projected
  line L71 (2971.8, 5918.2) -> (2971.8, 4978.4) projected
  line L72 (4368.8, 4140.2) -> (4368.8, 4826) projected
  line L73 (4826, 4140.2) -> (4368.8, 4140.2) projected
  line L74 (4826, 4826) -> (4826, 4140.2) projected
  line L75 (4368.8, 4826) -> (4826, 4826) projected
  line L76 (4978.4, 584.2) -> (4978.4, 4978.4) projected
  line L77 (4978.4, 4978.4) -> (3124.2, 4978.4) projected
  line L78 (3124.2, 6654.8) -> (3124.2, 10312.4) projected
  line L79 (3124.2, 4978.4) -> (3124.2, 5918.2) projected
  line L80 (3124.2, 10312.4) -> (1346.2, 10312.4) projected
  line L81 (1346.2, 9448.8) -> (-3302, 9448.8) projected
  line L82 (-3302, 7823.2) -> (-3149.6, 7823.2) projected
  line L83 (-3149.6, 7823.2) -> (-3149.6, 9296.4) projected
  line L84 (-3149.6, 9296.4) -> (1498.6, 9296.4) projected
  line L85 (1498.6, 9296.4) -> (1498.6, 10160) projected
  line L86 (1498.6, 10160) -> (2971.8, 10160) projected
  line L87 (2971.8, 10160) -> (2971.8, 6654.8) projected
  line L88 (2971.8, 6654.8) -> (3124.2, 6654.8) projected
  line L89 (3124.2, 6654.8) -> (3124.2, 10312.4) projected
  line L90 (3124.2, 10312.4) -> (1346.2, 10312.4) projected
  line L91 (1346.2, 10312.4) -> (1346.2, 9448.8) projected
  line L92 (1346.2, 9448.8) -> (-3302, 9448.8) projected
  line L93 (-3302, 9448.8) -> (-3302, 7823.2) projected
  line L94 (-3302, 7823.2) -> (-3149.6, 7823.2)
  line L95 (-3149.6, 7823.2) -> (-3149.6, 6096)
  line L96 (-3149.6, 6096) -> (-3302, 6096)
  line L97 (-3302, 6096) -> (-3302, 7823.2)
  line L98 (2971.8, 6654.8) -> (3124.2, 6654.8)
  line L99 (3124.2, 6654.8) -> (3124.2, 5918.2)
  line L100 (3124.2, 5918.2) -> (2971.8, 5918.2)
  line L101 (2971.8, 5918.2) -> (2971.8, 6654.8)
  line L102 (1447.8, 863.6) -> (2209.8, 863.6)
  line L103 (2209.8, 863.6) -> (2209.8, 711.2)
  line L104 (2209.8, 711.2) -> (1447.8, 711.2)
  line L105 (1447.8, 711.2) -> (1447.8, 863.6)
  line L106 (-558.8, -2184.4) -> (-406.4, -2184.4)
  line L107 (-406.4, -2184.4) -> (-406.4, -2946.4)
  line L108 (-406.4, -2946.4) -> (-558.8, -2946.4)
  line L109 (-558.8, -2946.4) -> (-558.8, -2184.4)
  line L110 (457.2, -2184.4) -> (609.6, -2184.4)
  line L111 (609.6, -2184.4) -> (609.6, -2946.4)
  line L112 (609.6, -2946.4) -> (457.2, -2946.4)
  line L113 (457.2, -2946.4) -> (457.2, -2184.4)
  line L114 (4826, 584.2) -> (4978.4, 584.2)
  line L115 (4978.4, 584.2) -> (4978.4, -279.4)
  line L116 (4978.4, -279.4) -> (4826, -279.4)
  line L117 (4826, -279.4) -> (4826, 584.2)
  line L118 (-3454.4, -1168.4) -> (-3302, -1168.4)
  line L119 (-3302, -1168.4) -> (-3302, -1854.2)
  line L120 (-3302, -1854.2) -> (-3454.4, -1854.2)
  line L121 (-3454.4, -1854.2) -> (-3454.4, -1168.4)
  line L122 (457.2, -406.4) -> (-406.4, -406.4)
  line L123 (-406.4, -406.4) -> (-406.4, -558.8)
  line L124 (-406.4, -558.8) -> (457.2, -558.8)
  line L125 (457.2, -558.8) -> (457.2, -406.4)
  line L126 (-3149.6, 7823.2) -> (-3302, 7823.2)
  line L127 (-3302, 7823.2) -> (-3302, 6096)
  line L128 (-3302, 6096) -> (-3149.6, 6096)
  line L129 (-3149.6, 6096) -> (-3149.6, 7823.2)
  line L130 (-3149.6, 9296.4) -> (-3149.6, 4826)
  line L131 (-3149.6, 7823.2) -> (-3302, 7823.2)
  line L132 (-3302, 7823.2) -> (-3302, 6096)
  line L133 (-3302, 6096) -> (-3149.6, 6096)
  point P0 (0, 0)
extrude "Extrusion4" add sketch "Sketch2" against normal blind 457.2 contours L8 L95 L18 L97
extrude "Extrusion5" add sketch "Sketch2" against normal blind 355.6 contours L0 L101 L2 L1 | L59 L58 L117 L60 | L104 L25 L102 L63 | L55 L124 L27 L122 | L54 L111 L48 L113 | L107 L44 L109 L28 | L119 L38 L121 L34
sketch "Sketch3" plane through (-4978.4, 2387.6, 4978.4) normal (0, 0, 1) x (1, 0, 0)
  line L0 (9956.8, -2413) -> (9956.8, 0) projected
  line L1 (0, 0) -> (9956.8, 0) projected
  line L2 (0, -2413) -> (0, 0) projected
  line L3 (9956.8, -2413) -> (0, -2413) projected
  line L4 (4419.6, -2387.6) -> (152.4, -2387.6) projected
  line L5 (9804.4, -2387.6) -> (5588, -2387.6) projected
  line L6 (6426.2, -228.6) -> (8204.2, -228.6)
  line L7 (8204.2, -228.6) -> (8204.2, -1600.2)
  line L8 (8204.2, -1600.2) -> (6426.2, -1600.2)
  line L9 (6426.2, -1600.2) -> (6426.2, -228.6)
  line L10 (2286, -228.6) -> (3073.4, -228.6)
  line L11 (3073.4, -228.6) -> (3073.4, -1600.2)
  line L12 (3073.4, -1600.2) -> (2286, -1600.2)
  line L13 (2286, -1600.2) -> (2286, -228.6)
  point P0 (4978.4, -2387.6)
  dimension "d84" = 2286
  dimension "d85" = 787.4
  dimension "d86" = 787.4
  dimension "d87" = 228.6
  dimension "d88" = 1752.6
  dimension "d89" = 1778
  dimension "d90" = 787.4
  dimension "d91" = 228.6
extrude "Extrusion6" cut sketch "Sketch3" against normal up to surface (152.4 mm away) contours L6 L7 L8 L9 | L10 L11 L12 L13
sketch "Sketch4" plane through (4978.4, 2387.6, 4978.4) normal (1, 0, 0) x (0, 0, -1)
  line L0 (0, 0) -> (9956.8, 0) projected
  line L1 (0, -2413) -> (0, 0) projected
  line L2 (9956.8, 0) -> (9956.8, -2413) projected
  line L3 (2260.6, -228.6) -> (3124.2, -228.6)
  line L4 (3124.2, -228.6) -> (3124.2, -1600.2)
  line L5 (3124.2, -1600.2) -> (2260.6, -1600.2)
  line L6 (2260.6, -1600.2) -> (2260.6, -228.6)
  line L7 (4419.6, -2387.6) -> (152.4, -2387.6) projected
  line L8 (8966.2, -2387.6) -> (5842, -2387.6) projected
  line L9 (6578.6, -584.2) -> (7772.4, -584.2)
  line L10 (7772.4, -584.2) -> (7772.4, -1879.6)
  line L11 (7772.4, -1879.6) -> (6578.6, -1879.6)
  line L12 (6578.6, -1879.6) -> (6578.6, -584.2)
  point P0 (4978.4, -2387.6)
  dimension "d94" = 2260.6
  dimension "d95" = 863.6
  dimension "d96" = 787.4
  dimension "d97" = 228.6
  dimension "d98" = 2184.4
  dimension "d99" = 1193.8
  dimension "d100" = 584.2
  dimension "d101" = 508
extrude "Extrusion7" cut sketch "Sketch4" against normal up to surface (152.4 mm away)
sketch "Sketch5" plane through (-3149.6, 2387.6, -9296.4) normal (0, 0, 1) x (1, 0, 0)
  line L0 (0, -2387.6) -> (4648.2, -2387.6) projected
  line L1 (0, 0) -> (4648.2, 0) projected
  line L2 (-152.4, -2387.6) -> (-152.4, 0) projected
  line L3 (4495.8, 0) -> (-152.4, 0) projected
  line L4 (4495.8, -2413) -> (4495.8, 0) projected
  line L5 (-152.4, -2413) -> (4495.8, -2413) projected
  line L6 (-152.4, -2387.6) -> (-152.4, -2413) projected
  line L7 (1346.2, -431.8) -> (2387.6, -431.8)
  line L8 (2387.6, -431.8) -> (2387.6, -1117.6)
  line L9 (2387.6, -1117.6) -> (1346.2, -1117.6)
  line L10 (1346.2, -1117.6) -> (1346.2, -431.8)
  point P0 (3149.6, -2387.6)
  dimension "d104" = 1041.4
  dimension "d106" = 1498.6
  dimension "d107" = 1270
  dimension "d108" = 431.8
extrude "Extrusion8" cut sketch "Sketch5" against normal up to surface (152.4 mm away) contours L7 L8 L9 L10
sketch "Sketch6" plane through (-4978.4, 2387.6, -4978.4) normal (-1, 0, 0) x (0, 0, 1)
  line L0 (9956.8, -2413) -> (9956.8, 0) projected
  line L1 (0, 0) -> (9956.8, 0) projected
  line L2 (5384.8, -2387.6) -> (152.4, -2387.6) projected
  line L3 (7924.8, -2387.6) -> (6146.8, -2387.6) projected
  line L4 (9804.4, -2387.6) -> (8077.2, -2387.6) projected
  line L5 (2286, -228.6) -> (3073.4, -228.6)
  line L6 (3073.4, -228.6) -> (3073.4, -1600.2)
  line L7 (3073.4, -1600.2) -> (2286, -1600.2)
  line L8 (2286, -1600.2) -> (2286, -228.6)
  line L9 (6426.2, -228.6) -> (7924.8, -228.6)
  line L10 (7924.8, -228.6) -> (7924.8, -1600.2)
  line L11 (7924.8, -1600.2) -> (6426.2, -1600.2)
  line L12 (6426.2, -1600.2) -> (6426.2, -228.6)
  point P0 (4978.4, -2387.6)
  dimension "d111" = 6883.4
  dimension "d112" = 787.4
  dimension "d113" = 787.4
  dimension "d114" = 228.6
  dimension "d115" = 787.4
  dimension "d116" = 228.6
  dimension "d117" = 1498.6
  dimension "d118" = 2032
extrude "Extrusion9" cut sketch "Sketch6" against normal up to surface (152.4 mm away)
sketch "Sketch7" plane through (0, 0, 0) normal (0, 1, 0) x (1, 0, 0)
  line L0 (-3149.6, 9296.4) -> (1498.6, 9296.4) projected
  line L1 (2971.8, 4978.4) -> (-1244.6, 4978.4) projected
  line L2 (3124.2, 10312.4) -> (3124.2, 4978.4) projected
  line L3 (3124.2, 4978.4) -> (4978.4, 4978.4) projected
  line L4 (4978.4, 4978.4) -> (4978.4, -4978.4) projected
  line L5 (4978.4, -4978.4) -> (-4978.4, -4978.4) projected
  line L6 (-4978.4, -4978.4) -> (-4978.4, 4978.4) projected
  line L7 (-4978.4, 4978.4) -> (-5943.6, 4978.4) projected
  line L8 (-5943.6, 4978.4) -> (-5943.6, 9296.4) projected
  line L9 (-5943.6, 9296.4) -> (-4394.2, 9296.4) projected
  line L10 (-4394.2, 9296.4) -> (-4394.2, 10312.4) projected
  line L11 (-4394.2, 10312.4) -> (-3302, 10312.4) projected
  line L12 (-3302, 10312.4) -> (-3302, 9448.8) projected
  line L13 (-3302, 9448.8) -> (1346.2, 9448.8) projected
  line L14 (1346.2, 9448.8) -> (1346.2, 10312.4) projected
  line L15 (1346.2, 10312.4) -> (3124.2, 10312.4) projected
  line L16 (1346.2, 9296.4) -> (1498.6, 9296.4)
  line L17 (1498.6, 9296.4) -> (1498.6, 4978.4)
  line L18 (1498.6, 4978.4) -> (1346.2, 4978.4)
  line L19 (1346.2, 4978.4) -> (1346.2, 9296.4)
  line L20 (3124.2, 5918.2) -> (2971.8, 5918.2) projected
  line L21 (3124.2, 5918.2) -> (3124.2, 6654.8) projected
  line L22 (2971.8, 6654.8) -> (3124.2, 6654.8) projected
  line L23 (2971.8, 10160) -> (2971.8, 6654.8) projected
  line L24 (1498.6, 10160) -> (2971.8, 10160) projected
  line L25 (1498.6, 9296.4) -> (1498.6, 10160) projected
  line L26 (-3149.6, 9296.4) -> (1498.6, 9296.4) projected
  line L27 (-3149.6, 7823.2) -> (-3149.6, 9296.4) projected
  line L28 (-3302, 7823.2) -> (-3149.6, 7823.2) projected
  line L29 (-3302, 9448.8) -> (-3302, 7823.2) projected
  line L30 (-3302, 9448.8) -> (-3302, 10312.4) projected
  line L31 (-3302, 10312.4) -> (-4394.2, 10312.4) projected
  line L32 (-4394.2, 10312.4) -> (-4394.2, 9296.4) projected
  line L33 (-4394.2, 9296.4) -> (-5943.6, 9296.4) projected
  line L34 (-5943.6, 9296.4) -> (-5943.6, 4978.4) projected
  line L35 (-5943.6, 4978.4) -> (-4978.4, 4978.4) projected
  line L36 (-3302, 4978.4) -> (-4978.4, 4978.4) projected
  line L37 (-3302, 6096) -> (-3302, 4978.4) projected
  line L38 (-3149.6, 6096) -> (-3302, 6096) projected
  line L39 (-3149.6, 4826) -> (-3149.6, 6096) projected
  line L40 (-4826, 4826) -> (-3149.6, 4826) projected
  line L41 (-4826, -406.4) -> (-4826, 4826) projected
  line L42 (-558.8, -406.4) -> (-4826, -406.4) projected
  line L43 (-558.8, 863.6) -> (-558.8, -406.4) projected
  line L44 (1447.8, 863.6) -> (-558.8, 863.6) projected
  line L45 (1447.8, 711.2) -> (1447.8, 863.6) projected
  line L46 (-406.4, 711.2) -> (1447.8, 711.2) projected
  line L47 (-406.4, -2184.4) -> (-406.4, 711.2) projected
  line L48 (-558.8, -2184.4) -> (-406.4, -2184.4) projected
  line L49 (-558.8, -558.8) -> (-558.8, -2184.4) projected
  line L50 (-4826, -558.8) -> (-558.8, -558.8) projected
  line L51 (-4826, -1016) -> (-4826, -558.8) projected
  line L52 (-3302, -1016) -> (-4826, -1016) projected
  line L53 (-3302, -1168.4) -> (-3302, -1016) projected
  line L54 (-4826, -1168.4) -> (-3302, -1168.4) projected
  line L55 (-4826, -2946.4) -> (-4826, -1168.4) projected
  line L56 (-3454.4, -2946.4) -> (-4826, -2946.4) projected
  line L57 (-3454.4, -1854.2) -> (-3454.4, -2946.4) projected
  line L58 (-3302, -1854.2) -> (-3454.4, -1854.2) projected
  line L59 (-3302, -3098.8) -> (-3302, -1854.2) projected
  line L60 (-4826, -3098.8) -> (-3302, -3098.8) projected
  line L61 (-4826, -4826) -> (-4826, -3098.8) projected
  line L62 (-558.8, -4826) -> (-4826, -4826) projected
  line L63 (-558.8, -2946.4) -> (-558.8, -4826) projected
  line L64 (-406.4, -2946.4) -> (-558.8, -2946.4) projected
  line L65 (-406.4, -3962.4) -> (-406.4, -2946.4) projected
  line L66 (457.2, -3962.4) -> (-406.4, -3962.4) projected
  line L67 (457.2, -2946.4) -> (457.2, -3962.4) projected
  line L68 (609.6, -2946.4) -> (457.2, -2946.4) projected
  line L69 (609.6, -4826) -> (609.6, -2946.4) projected
  line L70 (4826, -4826) -> (609.6, -4826) projected
  line L71 (4826, -558.8) -> (4826, -4826) projected
  line L72 (609.6, -558.8) -> (4826, -558.8) projected
  line L73 (609.6, -2184.4) -> (609.6, -558.8) projected
  line L74 (457.2, -2184.4) -> (609.6, -2184.4) projected
  line L75 (457.2, -406.4) -> (457.2, -2184.4) projected
  line L76 (4826, -406.4) -> (457.2, -406.4) projected
  line L77 (4826, -279.4) -> (4826, -406.4) projected
  line L78 (4978.4, -279.4) -> (4826, -279.4) projected
  line L79 (4978.4, -279.4) -> (4978.4, 584.2) projected
  line L80 (4826, 584.2) -> (4978.4, 584.2) projected
  line L81 (4826, 711.2) -> (4826, 584.2) projected
  line L82 (2209.8, 711.2) -> (4826, 711.2) projected
  line L83 (2209.8, 863.6) -> (2209.8, 711.2) projected
  line L84 (4826, 863.6) -> (2209.8, 863.6) projected
  line L85 (4826, 3987.8) -> (4826, 863.6) projected
  line L86 (4216.4, 3987.8) -> (4826, 3987.8) projected
  line L87 (4216.4, 4826) -> (4216.4, 3987.8) projected
  line L88 (-1244.6, 4826) -> (4216.4, 4826) projected
  line L89 (-1244.6, 4978.4) -> (-1244.6, 4826) projected
  line L90 (2971.8, 4978.4) -> (-1244.6, 4978.4) projected
  line L91 (2971.8, 5918.2) -> (2971.8, 4978.4) projected
  line L92 (1498.6, 9296.4) -> (1498.6, 10160) projected
  line L93 (1346.2, 10312.4) -> (1346.2, 9448.8) projected
  point P0 (0, 0)
extrude "Extrusion10" add sketch "Sketch7" along normal up to surface (2387.6 mm away) contours L0 L17 L1 L19
properties part number "289 Manning First Floor"
